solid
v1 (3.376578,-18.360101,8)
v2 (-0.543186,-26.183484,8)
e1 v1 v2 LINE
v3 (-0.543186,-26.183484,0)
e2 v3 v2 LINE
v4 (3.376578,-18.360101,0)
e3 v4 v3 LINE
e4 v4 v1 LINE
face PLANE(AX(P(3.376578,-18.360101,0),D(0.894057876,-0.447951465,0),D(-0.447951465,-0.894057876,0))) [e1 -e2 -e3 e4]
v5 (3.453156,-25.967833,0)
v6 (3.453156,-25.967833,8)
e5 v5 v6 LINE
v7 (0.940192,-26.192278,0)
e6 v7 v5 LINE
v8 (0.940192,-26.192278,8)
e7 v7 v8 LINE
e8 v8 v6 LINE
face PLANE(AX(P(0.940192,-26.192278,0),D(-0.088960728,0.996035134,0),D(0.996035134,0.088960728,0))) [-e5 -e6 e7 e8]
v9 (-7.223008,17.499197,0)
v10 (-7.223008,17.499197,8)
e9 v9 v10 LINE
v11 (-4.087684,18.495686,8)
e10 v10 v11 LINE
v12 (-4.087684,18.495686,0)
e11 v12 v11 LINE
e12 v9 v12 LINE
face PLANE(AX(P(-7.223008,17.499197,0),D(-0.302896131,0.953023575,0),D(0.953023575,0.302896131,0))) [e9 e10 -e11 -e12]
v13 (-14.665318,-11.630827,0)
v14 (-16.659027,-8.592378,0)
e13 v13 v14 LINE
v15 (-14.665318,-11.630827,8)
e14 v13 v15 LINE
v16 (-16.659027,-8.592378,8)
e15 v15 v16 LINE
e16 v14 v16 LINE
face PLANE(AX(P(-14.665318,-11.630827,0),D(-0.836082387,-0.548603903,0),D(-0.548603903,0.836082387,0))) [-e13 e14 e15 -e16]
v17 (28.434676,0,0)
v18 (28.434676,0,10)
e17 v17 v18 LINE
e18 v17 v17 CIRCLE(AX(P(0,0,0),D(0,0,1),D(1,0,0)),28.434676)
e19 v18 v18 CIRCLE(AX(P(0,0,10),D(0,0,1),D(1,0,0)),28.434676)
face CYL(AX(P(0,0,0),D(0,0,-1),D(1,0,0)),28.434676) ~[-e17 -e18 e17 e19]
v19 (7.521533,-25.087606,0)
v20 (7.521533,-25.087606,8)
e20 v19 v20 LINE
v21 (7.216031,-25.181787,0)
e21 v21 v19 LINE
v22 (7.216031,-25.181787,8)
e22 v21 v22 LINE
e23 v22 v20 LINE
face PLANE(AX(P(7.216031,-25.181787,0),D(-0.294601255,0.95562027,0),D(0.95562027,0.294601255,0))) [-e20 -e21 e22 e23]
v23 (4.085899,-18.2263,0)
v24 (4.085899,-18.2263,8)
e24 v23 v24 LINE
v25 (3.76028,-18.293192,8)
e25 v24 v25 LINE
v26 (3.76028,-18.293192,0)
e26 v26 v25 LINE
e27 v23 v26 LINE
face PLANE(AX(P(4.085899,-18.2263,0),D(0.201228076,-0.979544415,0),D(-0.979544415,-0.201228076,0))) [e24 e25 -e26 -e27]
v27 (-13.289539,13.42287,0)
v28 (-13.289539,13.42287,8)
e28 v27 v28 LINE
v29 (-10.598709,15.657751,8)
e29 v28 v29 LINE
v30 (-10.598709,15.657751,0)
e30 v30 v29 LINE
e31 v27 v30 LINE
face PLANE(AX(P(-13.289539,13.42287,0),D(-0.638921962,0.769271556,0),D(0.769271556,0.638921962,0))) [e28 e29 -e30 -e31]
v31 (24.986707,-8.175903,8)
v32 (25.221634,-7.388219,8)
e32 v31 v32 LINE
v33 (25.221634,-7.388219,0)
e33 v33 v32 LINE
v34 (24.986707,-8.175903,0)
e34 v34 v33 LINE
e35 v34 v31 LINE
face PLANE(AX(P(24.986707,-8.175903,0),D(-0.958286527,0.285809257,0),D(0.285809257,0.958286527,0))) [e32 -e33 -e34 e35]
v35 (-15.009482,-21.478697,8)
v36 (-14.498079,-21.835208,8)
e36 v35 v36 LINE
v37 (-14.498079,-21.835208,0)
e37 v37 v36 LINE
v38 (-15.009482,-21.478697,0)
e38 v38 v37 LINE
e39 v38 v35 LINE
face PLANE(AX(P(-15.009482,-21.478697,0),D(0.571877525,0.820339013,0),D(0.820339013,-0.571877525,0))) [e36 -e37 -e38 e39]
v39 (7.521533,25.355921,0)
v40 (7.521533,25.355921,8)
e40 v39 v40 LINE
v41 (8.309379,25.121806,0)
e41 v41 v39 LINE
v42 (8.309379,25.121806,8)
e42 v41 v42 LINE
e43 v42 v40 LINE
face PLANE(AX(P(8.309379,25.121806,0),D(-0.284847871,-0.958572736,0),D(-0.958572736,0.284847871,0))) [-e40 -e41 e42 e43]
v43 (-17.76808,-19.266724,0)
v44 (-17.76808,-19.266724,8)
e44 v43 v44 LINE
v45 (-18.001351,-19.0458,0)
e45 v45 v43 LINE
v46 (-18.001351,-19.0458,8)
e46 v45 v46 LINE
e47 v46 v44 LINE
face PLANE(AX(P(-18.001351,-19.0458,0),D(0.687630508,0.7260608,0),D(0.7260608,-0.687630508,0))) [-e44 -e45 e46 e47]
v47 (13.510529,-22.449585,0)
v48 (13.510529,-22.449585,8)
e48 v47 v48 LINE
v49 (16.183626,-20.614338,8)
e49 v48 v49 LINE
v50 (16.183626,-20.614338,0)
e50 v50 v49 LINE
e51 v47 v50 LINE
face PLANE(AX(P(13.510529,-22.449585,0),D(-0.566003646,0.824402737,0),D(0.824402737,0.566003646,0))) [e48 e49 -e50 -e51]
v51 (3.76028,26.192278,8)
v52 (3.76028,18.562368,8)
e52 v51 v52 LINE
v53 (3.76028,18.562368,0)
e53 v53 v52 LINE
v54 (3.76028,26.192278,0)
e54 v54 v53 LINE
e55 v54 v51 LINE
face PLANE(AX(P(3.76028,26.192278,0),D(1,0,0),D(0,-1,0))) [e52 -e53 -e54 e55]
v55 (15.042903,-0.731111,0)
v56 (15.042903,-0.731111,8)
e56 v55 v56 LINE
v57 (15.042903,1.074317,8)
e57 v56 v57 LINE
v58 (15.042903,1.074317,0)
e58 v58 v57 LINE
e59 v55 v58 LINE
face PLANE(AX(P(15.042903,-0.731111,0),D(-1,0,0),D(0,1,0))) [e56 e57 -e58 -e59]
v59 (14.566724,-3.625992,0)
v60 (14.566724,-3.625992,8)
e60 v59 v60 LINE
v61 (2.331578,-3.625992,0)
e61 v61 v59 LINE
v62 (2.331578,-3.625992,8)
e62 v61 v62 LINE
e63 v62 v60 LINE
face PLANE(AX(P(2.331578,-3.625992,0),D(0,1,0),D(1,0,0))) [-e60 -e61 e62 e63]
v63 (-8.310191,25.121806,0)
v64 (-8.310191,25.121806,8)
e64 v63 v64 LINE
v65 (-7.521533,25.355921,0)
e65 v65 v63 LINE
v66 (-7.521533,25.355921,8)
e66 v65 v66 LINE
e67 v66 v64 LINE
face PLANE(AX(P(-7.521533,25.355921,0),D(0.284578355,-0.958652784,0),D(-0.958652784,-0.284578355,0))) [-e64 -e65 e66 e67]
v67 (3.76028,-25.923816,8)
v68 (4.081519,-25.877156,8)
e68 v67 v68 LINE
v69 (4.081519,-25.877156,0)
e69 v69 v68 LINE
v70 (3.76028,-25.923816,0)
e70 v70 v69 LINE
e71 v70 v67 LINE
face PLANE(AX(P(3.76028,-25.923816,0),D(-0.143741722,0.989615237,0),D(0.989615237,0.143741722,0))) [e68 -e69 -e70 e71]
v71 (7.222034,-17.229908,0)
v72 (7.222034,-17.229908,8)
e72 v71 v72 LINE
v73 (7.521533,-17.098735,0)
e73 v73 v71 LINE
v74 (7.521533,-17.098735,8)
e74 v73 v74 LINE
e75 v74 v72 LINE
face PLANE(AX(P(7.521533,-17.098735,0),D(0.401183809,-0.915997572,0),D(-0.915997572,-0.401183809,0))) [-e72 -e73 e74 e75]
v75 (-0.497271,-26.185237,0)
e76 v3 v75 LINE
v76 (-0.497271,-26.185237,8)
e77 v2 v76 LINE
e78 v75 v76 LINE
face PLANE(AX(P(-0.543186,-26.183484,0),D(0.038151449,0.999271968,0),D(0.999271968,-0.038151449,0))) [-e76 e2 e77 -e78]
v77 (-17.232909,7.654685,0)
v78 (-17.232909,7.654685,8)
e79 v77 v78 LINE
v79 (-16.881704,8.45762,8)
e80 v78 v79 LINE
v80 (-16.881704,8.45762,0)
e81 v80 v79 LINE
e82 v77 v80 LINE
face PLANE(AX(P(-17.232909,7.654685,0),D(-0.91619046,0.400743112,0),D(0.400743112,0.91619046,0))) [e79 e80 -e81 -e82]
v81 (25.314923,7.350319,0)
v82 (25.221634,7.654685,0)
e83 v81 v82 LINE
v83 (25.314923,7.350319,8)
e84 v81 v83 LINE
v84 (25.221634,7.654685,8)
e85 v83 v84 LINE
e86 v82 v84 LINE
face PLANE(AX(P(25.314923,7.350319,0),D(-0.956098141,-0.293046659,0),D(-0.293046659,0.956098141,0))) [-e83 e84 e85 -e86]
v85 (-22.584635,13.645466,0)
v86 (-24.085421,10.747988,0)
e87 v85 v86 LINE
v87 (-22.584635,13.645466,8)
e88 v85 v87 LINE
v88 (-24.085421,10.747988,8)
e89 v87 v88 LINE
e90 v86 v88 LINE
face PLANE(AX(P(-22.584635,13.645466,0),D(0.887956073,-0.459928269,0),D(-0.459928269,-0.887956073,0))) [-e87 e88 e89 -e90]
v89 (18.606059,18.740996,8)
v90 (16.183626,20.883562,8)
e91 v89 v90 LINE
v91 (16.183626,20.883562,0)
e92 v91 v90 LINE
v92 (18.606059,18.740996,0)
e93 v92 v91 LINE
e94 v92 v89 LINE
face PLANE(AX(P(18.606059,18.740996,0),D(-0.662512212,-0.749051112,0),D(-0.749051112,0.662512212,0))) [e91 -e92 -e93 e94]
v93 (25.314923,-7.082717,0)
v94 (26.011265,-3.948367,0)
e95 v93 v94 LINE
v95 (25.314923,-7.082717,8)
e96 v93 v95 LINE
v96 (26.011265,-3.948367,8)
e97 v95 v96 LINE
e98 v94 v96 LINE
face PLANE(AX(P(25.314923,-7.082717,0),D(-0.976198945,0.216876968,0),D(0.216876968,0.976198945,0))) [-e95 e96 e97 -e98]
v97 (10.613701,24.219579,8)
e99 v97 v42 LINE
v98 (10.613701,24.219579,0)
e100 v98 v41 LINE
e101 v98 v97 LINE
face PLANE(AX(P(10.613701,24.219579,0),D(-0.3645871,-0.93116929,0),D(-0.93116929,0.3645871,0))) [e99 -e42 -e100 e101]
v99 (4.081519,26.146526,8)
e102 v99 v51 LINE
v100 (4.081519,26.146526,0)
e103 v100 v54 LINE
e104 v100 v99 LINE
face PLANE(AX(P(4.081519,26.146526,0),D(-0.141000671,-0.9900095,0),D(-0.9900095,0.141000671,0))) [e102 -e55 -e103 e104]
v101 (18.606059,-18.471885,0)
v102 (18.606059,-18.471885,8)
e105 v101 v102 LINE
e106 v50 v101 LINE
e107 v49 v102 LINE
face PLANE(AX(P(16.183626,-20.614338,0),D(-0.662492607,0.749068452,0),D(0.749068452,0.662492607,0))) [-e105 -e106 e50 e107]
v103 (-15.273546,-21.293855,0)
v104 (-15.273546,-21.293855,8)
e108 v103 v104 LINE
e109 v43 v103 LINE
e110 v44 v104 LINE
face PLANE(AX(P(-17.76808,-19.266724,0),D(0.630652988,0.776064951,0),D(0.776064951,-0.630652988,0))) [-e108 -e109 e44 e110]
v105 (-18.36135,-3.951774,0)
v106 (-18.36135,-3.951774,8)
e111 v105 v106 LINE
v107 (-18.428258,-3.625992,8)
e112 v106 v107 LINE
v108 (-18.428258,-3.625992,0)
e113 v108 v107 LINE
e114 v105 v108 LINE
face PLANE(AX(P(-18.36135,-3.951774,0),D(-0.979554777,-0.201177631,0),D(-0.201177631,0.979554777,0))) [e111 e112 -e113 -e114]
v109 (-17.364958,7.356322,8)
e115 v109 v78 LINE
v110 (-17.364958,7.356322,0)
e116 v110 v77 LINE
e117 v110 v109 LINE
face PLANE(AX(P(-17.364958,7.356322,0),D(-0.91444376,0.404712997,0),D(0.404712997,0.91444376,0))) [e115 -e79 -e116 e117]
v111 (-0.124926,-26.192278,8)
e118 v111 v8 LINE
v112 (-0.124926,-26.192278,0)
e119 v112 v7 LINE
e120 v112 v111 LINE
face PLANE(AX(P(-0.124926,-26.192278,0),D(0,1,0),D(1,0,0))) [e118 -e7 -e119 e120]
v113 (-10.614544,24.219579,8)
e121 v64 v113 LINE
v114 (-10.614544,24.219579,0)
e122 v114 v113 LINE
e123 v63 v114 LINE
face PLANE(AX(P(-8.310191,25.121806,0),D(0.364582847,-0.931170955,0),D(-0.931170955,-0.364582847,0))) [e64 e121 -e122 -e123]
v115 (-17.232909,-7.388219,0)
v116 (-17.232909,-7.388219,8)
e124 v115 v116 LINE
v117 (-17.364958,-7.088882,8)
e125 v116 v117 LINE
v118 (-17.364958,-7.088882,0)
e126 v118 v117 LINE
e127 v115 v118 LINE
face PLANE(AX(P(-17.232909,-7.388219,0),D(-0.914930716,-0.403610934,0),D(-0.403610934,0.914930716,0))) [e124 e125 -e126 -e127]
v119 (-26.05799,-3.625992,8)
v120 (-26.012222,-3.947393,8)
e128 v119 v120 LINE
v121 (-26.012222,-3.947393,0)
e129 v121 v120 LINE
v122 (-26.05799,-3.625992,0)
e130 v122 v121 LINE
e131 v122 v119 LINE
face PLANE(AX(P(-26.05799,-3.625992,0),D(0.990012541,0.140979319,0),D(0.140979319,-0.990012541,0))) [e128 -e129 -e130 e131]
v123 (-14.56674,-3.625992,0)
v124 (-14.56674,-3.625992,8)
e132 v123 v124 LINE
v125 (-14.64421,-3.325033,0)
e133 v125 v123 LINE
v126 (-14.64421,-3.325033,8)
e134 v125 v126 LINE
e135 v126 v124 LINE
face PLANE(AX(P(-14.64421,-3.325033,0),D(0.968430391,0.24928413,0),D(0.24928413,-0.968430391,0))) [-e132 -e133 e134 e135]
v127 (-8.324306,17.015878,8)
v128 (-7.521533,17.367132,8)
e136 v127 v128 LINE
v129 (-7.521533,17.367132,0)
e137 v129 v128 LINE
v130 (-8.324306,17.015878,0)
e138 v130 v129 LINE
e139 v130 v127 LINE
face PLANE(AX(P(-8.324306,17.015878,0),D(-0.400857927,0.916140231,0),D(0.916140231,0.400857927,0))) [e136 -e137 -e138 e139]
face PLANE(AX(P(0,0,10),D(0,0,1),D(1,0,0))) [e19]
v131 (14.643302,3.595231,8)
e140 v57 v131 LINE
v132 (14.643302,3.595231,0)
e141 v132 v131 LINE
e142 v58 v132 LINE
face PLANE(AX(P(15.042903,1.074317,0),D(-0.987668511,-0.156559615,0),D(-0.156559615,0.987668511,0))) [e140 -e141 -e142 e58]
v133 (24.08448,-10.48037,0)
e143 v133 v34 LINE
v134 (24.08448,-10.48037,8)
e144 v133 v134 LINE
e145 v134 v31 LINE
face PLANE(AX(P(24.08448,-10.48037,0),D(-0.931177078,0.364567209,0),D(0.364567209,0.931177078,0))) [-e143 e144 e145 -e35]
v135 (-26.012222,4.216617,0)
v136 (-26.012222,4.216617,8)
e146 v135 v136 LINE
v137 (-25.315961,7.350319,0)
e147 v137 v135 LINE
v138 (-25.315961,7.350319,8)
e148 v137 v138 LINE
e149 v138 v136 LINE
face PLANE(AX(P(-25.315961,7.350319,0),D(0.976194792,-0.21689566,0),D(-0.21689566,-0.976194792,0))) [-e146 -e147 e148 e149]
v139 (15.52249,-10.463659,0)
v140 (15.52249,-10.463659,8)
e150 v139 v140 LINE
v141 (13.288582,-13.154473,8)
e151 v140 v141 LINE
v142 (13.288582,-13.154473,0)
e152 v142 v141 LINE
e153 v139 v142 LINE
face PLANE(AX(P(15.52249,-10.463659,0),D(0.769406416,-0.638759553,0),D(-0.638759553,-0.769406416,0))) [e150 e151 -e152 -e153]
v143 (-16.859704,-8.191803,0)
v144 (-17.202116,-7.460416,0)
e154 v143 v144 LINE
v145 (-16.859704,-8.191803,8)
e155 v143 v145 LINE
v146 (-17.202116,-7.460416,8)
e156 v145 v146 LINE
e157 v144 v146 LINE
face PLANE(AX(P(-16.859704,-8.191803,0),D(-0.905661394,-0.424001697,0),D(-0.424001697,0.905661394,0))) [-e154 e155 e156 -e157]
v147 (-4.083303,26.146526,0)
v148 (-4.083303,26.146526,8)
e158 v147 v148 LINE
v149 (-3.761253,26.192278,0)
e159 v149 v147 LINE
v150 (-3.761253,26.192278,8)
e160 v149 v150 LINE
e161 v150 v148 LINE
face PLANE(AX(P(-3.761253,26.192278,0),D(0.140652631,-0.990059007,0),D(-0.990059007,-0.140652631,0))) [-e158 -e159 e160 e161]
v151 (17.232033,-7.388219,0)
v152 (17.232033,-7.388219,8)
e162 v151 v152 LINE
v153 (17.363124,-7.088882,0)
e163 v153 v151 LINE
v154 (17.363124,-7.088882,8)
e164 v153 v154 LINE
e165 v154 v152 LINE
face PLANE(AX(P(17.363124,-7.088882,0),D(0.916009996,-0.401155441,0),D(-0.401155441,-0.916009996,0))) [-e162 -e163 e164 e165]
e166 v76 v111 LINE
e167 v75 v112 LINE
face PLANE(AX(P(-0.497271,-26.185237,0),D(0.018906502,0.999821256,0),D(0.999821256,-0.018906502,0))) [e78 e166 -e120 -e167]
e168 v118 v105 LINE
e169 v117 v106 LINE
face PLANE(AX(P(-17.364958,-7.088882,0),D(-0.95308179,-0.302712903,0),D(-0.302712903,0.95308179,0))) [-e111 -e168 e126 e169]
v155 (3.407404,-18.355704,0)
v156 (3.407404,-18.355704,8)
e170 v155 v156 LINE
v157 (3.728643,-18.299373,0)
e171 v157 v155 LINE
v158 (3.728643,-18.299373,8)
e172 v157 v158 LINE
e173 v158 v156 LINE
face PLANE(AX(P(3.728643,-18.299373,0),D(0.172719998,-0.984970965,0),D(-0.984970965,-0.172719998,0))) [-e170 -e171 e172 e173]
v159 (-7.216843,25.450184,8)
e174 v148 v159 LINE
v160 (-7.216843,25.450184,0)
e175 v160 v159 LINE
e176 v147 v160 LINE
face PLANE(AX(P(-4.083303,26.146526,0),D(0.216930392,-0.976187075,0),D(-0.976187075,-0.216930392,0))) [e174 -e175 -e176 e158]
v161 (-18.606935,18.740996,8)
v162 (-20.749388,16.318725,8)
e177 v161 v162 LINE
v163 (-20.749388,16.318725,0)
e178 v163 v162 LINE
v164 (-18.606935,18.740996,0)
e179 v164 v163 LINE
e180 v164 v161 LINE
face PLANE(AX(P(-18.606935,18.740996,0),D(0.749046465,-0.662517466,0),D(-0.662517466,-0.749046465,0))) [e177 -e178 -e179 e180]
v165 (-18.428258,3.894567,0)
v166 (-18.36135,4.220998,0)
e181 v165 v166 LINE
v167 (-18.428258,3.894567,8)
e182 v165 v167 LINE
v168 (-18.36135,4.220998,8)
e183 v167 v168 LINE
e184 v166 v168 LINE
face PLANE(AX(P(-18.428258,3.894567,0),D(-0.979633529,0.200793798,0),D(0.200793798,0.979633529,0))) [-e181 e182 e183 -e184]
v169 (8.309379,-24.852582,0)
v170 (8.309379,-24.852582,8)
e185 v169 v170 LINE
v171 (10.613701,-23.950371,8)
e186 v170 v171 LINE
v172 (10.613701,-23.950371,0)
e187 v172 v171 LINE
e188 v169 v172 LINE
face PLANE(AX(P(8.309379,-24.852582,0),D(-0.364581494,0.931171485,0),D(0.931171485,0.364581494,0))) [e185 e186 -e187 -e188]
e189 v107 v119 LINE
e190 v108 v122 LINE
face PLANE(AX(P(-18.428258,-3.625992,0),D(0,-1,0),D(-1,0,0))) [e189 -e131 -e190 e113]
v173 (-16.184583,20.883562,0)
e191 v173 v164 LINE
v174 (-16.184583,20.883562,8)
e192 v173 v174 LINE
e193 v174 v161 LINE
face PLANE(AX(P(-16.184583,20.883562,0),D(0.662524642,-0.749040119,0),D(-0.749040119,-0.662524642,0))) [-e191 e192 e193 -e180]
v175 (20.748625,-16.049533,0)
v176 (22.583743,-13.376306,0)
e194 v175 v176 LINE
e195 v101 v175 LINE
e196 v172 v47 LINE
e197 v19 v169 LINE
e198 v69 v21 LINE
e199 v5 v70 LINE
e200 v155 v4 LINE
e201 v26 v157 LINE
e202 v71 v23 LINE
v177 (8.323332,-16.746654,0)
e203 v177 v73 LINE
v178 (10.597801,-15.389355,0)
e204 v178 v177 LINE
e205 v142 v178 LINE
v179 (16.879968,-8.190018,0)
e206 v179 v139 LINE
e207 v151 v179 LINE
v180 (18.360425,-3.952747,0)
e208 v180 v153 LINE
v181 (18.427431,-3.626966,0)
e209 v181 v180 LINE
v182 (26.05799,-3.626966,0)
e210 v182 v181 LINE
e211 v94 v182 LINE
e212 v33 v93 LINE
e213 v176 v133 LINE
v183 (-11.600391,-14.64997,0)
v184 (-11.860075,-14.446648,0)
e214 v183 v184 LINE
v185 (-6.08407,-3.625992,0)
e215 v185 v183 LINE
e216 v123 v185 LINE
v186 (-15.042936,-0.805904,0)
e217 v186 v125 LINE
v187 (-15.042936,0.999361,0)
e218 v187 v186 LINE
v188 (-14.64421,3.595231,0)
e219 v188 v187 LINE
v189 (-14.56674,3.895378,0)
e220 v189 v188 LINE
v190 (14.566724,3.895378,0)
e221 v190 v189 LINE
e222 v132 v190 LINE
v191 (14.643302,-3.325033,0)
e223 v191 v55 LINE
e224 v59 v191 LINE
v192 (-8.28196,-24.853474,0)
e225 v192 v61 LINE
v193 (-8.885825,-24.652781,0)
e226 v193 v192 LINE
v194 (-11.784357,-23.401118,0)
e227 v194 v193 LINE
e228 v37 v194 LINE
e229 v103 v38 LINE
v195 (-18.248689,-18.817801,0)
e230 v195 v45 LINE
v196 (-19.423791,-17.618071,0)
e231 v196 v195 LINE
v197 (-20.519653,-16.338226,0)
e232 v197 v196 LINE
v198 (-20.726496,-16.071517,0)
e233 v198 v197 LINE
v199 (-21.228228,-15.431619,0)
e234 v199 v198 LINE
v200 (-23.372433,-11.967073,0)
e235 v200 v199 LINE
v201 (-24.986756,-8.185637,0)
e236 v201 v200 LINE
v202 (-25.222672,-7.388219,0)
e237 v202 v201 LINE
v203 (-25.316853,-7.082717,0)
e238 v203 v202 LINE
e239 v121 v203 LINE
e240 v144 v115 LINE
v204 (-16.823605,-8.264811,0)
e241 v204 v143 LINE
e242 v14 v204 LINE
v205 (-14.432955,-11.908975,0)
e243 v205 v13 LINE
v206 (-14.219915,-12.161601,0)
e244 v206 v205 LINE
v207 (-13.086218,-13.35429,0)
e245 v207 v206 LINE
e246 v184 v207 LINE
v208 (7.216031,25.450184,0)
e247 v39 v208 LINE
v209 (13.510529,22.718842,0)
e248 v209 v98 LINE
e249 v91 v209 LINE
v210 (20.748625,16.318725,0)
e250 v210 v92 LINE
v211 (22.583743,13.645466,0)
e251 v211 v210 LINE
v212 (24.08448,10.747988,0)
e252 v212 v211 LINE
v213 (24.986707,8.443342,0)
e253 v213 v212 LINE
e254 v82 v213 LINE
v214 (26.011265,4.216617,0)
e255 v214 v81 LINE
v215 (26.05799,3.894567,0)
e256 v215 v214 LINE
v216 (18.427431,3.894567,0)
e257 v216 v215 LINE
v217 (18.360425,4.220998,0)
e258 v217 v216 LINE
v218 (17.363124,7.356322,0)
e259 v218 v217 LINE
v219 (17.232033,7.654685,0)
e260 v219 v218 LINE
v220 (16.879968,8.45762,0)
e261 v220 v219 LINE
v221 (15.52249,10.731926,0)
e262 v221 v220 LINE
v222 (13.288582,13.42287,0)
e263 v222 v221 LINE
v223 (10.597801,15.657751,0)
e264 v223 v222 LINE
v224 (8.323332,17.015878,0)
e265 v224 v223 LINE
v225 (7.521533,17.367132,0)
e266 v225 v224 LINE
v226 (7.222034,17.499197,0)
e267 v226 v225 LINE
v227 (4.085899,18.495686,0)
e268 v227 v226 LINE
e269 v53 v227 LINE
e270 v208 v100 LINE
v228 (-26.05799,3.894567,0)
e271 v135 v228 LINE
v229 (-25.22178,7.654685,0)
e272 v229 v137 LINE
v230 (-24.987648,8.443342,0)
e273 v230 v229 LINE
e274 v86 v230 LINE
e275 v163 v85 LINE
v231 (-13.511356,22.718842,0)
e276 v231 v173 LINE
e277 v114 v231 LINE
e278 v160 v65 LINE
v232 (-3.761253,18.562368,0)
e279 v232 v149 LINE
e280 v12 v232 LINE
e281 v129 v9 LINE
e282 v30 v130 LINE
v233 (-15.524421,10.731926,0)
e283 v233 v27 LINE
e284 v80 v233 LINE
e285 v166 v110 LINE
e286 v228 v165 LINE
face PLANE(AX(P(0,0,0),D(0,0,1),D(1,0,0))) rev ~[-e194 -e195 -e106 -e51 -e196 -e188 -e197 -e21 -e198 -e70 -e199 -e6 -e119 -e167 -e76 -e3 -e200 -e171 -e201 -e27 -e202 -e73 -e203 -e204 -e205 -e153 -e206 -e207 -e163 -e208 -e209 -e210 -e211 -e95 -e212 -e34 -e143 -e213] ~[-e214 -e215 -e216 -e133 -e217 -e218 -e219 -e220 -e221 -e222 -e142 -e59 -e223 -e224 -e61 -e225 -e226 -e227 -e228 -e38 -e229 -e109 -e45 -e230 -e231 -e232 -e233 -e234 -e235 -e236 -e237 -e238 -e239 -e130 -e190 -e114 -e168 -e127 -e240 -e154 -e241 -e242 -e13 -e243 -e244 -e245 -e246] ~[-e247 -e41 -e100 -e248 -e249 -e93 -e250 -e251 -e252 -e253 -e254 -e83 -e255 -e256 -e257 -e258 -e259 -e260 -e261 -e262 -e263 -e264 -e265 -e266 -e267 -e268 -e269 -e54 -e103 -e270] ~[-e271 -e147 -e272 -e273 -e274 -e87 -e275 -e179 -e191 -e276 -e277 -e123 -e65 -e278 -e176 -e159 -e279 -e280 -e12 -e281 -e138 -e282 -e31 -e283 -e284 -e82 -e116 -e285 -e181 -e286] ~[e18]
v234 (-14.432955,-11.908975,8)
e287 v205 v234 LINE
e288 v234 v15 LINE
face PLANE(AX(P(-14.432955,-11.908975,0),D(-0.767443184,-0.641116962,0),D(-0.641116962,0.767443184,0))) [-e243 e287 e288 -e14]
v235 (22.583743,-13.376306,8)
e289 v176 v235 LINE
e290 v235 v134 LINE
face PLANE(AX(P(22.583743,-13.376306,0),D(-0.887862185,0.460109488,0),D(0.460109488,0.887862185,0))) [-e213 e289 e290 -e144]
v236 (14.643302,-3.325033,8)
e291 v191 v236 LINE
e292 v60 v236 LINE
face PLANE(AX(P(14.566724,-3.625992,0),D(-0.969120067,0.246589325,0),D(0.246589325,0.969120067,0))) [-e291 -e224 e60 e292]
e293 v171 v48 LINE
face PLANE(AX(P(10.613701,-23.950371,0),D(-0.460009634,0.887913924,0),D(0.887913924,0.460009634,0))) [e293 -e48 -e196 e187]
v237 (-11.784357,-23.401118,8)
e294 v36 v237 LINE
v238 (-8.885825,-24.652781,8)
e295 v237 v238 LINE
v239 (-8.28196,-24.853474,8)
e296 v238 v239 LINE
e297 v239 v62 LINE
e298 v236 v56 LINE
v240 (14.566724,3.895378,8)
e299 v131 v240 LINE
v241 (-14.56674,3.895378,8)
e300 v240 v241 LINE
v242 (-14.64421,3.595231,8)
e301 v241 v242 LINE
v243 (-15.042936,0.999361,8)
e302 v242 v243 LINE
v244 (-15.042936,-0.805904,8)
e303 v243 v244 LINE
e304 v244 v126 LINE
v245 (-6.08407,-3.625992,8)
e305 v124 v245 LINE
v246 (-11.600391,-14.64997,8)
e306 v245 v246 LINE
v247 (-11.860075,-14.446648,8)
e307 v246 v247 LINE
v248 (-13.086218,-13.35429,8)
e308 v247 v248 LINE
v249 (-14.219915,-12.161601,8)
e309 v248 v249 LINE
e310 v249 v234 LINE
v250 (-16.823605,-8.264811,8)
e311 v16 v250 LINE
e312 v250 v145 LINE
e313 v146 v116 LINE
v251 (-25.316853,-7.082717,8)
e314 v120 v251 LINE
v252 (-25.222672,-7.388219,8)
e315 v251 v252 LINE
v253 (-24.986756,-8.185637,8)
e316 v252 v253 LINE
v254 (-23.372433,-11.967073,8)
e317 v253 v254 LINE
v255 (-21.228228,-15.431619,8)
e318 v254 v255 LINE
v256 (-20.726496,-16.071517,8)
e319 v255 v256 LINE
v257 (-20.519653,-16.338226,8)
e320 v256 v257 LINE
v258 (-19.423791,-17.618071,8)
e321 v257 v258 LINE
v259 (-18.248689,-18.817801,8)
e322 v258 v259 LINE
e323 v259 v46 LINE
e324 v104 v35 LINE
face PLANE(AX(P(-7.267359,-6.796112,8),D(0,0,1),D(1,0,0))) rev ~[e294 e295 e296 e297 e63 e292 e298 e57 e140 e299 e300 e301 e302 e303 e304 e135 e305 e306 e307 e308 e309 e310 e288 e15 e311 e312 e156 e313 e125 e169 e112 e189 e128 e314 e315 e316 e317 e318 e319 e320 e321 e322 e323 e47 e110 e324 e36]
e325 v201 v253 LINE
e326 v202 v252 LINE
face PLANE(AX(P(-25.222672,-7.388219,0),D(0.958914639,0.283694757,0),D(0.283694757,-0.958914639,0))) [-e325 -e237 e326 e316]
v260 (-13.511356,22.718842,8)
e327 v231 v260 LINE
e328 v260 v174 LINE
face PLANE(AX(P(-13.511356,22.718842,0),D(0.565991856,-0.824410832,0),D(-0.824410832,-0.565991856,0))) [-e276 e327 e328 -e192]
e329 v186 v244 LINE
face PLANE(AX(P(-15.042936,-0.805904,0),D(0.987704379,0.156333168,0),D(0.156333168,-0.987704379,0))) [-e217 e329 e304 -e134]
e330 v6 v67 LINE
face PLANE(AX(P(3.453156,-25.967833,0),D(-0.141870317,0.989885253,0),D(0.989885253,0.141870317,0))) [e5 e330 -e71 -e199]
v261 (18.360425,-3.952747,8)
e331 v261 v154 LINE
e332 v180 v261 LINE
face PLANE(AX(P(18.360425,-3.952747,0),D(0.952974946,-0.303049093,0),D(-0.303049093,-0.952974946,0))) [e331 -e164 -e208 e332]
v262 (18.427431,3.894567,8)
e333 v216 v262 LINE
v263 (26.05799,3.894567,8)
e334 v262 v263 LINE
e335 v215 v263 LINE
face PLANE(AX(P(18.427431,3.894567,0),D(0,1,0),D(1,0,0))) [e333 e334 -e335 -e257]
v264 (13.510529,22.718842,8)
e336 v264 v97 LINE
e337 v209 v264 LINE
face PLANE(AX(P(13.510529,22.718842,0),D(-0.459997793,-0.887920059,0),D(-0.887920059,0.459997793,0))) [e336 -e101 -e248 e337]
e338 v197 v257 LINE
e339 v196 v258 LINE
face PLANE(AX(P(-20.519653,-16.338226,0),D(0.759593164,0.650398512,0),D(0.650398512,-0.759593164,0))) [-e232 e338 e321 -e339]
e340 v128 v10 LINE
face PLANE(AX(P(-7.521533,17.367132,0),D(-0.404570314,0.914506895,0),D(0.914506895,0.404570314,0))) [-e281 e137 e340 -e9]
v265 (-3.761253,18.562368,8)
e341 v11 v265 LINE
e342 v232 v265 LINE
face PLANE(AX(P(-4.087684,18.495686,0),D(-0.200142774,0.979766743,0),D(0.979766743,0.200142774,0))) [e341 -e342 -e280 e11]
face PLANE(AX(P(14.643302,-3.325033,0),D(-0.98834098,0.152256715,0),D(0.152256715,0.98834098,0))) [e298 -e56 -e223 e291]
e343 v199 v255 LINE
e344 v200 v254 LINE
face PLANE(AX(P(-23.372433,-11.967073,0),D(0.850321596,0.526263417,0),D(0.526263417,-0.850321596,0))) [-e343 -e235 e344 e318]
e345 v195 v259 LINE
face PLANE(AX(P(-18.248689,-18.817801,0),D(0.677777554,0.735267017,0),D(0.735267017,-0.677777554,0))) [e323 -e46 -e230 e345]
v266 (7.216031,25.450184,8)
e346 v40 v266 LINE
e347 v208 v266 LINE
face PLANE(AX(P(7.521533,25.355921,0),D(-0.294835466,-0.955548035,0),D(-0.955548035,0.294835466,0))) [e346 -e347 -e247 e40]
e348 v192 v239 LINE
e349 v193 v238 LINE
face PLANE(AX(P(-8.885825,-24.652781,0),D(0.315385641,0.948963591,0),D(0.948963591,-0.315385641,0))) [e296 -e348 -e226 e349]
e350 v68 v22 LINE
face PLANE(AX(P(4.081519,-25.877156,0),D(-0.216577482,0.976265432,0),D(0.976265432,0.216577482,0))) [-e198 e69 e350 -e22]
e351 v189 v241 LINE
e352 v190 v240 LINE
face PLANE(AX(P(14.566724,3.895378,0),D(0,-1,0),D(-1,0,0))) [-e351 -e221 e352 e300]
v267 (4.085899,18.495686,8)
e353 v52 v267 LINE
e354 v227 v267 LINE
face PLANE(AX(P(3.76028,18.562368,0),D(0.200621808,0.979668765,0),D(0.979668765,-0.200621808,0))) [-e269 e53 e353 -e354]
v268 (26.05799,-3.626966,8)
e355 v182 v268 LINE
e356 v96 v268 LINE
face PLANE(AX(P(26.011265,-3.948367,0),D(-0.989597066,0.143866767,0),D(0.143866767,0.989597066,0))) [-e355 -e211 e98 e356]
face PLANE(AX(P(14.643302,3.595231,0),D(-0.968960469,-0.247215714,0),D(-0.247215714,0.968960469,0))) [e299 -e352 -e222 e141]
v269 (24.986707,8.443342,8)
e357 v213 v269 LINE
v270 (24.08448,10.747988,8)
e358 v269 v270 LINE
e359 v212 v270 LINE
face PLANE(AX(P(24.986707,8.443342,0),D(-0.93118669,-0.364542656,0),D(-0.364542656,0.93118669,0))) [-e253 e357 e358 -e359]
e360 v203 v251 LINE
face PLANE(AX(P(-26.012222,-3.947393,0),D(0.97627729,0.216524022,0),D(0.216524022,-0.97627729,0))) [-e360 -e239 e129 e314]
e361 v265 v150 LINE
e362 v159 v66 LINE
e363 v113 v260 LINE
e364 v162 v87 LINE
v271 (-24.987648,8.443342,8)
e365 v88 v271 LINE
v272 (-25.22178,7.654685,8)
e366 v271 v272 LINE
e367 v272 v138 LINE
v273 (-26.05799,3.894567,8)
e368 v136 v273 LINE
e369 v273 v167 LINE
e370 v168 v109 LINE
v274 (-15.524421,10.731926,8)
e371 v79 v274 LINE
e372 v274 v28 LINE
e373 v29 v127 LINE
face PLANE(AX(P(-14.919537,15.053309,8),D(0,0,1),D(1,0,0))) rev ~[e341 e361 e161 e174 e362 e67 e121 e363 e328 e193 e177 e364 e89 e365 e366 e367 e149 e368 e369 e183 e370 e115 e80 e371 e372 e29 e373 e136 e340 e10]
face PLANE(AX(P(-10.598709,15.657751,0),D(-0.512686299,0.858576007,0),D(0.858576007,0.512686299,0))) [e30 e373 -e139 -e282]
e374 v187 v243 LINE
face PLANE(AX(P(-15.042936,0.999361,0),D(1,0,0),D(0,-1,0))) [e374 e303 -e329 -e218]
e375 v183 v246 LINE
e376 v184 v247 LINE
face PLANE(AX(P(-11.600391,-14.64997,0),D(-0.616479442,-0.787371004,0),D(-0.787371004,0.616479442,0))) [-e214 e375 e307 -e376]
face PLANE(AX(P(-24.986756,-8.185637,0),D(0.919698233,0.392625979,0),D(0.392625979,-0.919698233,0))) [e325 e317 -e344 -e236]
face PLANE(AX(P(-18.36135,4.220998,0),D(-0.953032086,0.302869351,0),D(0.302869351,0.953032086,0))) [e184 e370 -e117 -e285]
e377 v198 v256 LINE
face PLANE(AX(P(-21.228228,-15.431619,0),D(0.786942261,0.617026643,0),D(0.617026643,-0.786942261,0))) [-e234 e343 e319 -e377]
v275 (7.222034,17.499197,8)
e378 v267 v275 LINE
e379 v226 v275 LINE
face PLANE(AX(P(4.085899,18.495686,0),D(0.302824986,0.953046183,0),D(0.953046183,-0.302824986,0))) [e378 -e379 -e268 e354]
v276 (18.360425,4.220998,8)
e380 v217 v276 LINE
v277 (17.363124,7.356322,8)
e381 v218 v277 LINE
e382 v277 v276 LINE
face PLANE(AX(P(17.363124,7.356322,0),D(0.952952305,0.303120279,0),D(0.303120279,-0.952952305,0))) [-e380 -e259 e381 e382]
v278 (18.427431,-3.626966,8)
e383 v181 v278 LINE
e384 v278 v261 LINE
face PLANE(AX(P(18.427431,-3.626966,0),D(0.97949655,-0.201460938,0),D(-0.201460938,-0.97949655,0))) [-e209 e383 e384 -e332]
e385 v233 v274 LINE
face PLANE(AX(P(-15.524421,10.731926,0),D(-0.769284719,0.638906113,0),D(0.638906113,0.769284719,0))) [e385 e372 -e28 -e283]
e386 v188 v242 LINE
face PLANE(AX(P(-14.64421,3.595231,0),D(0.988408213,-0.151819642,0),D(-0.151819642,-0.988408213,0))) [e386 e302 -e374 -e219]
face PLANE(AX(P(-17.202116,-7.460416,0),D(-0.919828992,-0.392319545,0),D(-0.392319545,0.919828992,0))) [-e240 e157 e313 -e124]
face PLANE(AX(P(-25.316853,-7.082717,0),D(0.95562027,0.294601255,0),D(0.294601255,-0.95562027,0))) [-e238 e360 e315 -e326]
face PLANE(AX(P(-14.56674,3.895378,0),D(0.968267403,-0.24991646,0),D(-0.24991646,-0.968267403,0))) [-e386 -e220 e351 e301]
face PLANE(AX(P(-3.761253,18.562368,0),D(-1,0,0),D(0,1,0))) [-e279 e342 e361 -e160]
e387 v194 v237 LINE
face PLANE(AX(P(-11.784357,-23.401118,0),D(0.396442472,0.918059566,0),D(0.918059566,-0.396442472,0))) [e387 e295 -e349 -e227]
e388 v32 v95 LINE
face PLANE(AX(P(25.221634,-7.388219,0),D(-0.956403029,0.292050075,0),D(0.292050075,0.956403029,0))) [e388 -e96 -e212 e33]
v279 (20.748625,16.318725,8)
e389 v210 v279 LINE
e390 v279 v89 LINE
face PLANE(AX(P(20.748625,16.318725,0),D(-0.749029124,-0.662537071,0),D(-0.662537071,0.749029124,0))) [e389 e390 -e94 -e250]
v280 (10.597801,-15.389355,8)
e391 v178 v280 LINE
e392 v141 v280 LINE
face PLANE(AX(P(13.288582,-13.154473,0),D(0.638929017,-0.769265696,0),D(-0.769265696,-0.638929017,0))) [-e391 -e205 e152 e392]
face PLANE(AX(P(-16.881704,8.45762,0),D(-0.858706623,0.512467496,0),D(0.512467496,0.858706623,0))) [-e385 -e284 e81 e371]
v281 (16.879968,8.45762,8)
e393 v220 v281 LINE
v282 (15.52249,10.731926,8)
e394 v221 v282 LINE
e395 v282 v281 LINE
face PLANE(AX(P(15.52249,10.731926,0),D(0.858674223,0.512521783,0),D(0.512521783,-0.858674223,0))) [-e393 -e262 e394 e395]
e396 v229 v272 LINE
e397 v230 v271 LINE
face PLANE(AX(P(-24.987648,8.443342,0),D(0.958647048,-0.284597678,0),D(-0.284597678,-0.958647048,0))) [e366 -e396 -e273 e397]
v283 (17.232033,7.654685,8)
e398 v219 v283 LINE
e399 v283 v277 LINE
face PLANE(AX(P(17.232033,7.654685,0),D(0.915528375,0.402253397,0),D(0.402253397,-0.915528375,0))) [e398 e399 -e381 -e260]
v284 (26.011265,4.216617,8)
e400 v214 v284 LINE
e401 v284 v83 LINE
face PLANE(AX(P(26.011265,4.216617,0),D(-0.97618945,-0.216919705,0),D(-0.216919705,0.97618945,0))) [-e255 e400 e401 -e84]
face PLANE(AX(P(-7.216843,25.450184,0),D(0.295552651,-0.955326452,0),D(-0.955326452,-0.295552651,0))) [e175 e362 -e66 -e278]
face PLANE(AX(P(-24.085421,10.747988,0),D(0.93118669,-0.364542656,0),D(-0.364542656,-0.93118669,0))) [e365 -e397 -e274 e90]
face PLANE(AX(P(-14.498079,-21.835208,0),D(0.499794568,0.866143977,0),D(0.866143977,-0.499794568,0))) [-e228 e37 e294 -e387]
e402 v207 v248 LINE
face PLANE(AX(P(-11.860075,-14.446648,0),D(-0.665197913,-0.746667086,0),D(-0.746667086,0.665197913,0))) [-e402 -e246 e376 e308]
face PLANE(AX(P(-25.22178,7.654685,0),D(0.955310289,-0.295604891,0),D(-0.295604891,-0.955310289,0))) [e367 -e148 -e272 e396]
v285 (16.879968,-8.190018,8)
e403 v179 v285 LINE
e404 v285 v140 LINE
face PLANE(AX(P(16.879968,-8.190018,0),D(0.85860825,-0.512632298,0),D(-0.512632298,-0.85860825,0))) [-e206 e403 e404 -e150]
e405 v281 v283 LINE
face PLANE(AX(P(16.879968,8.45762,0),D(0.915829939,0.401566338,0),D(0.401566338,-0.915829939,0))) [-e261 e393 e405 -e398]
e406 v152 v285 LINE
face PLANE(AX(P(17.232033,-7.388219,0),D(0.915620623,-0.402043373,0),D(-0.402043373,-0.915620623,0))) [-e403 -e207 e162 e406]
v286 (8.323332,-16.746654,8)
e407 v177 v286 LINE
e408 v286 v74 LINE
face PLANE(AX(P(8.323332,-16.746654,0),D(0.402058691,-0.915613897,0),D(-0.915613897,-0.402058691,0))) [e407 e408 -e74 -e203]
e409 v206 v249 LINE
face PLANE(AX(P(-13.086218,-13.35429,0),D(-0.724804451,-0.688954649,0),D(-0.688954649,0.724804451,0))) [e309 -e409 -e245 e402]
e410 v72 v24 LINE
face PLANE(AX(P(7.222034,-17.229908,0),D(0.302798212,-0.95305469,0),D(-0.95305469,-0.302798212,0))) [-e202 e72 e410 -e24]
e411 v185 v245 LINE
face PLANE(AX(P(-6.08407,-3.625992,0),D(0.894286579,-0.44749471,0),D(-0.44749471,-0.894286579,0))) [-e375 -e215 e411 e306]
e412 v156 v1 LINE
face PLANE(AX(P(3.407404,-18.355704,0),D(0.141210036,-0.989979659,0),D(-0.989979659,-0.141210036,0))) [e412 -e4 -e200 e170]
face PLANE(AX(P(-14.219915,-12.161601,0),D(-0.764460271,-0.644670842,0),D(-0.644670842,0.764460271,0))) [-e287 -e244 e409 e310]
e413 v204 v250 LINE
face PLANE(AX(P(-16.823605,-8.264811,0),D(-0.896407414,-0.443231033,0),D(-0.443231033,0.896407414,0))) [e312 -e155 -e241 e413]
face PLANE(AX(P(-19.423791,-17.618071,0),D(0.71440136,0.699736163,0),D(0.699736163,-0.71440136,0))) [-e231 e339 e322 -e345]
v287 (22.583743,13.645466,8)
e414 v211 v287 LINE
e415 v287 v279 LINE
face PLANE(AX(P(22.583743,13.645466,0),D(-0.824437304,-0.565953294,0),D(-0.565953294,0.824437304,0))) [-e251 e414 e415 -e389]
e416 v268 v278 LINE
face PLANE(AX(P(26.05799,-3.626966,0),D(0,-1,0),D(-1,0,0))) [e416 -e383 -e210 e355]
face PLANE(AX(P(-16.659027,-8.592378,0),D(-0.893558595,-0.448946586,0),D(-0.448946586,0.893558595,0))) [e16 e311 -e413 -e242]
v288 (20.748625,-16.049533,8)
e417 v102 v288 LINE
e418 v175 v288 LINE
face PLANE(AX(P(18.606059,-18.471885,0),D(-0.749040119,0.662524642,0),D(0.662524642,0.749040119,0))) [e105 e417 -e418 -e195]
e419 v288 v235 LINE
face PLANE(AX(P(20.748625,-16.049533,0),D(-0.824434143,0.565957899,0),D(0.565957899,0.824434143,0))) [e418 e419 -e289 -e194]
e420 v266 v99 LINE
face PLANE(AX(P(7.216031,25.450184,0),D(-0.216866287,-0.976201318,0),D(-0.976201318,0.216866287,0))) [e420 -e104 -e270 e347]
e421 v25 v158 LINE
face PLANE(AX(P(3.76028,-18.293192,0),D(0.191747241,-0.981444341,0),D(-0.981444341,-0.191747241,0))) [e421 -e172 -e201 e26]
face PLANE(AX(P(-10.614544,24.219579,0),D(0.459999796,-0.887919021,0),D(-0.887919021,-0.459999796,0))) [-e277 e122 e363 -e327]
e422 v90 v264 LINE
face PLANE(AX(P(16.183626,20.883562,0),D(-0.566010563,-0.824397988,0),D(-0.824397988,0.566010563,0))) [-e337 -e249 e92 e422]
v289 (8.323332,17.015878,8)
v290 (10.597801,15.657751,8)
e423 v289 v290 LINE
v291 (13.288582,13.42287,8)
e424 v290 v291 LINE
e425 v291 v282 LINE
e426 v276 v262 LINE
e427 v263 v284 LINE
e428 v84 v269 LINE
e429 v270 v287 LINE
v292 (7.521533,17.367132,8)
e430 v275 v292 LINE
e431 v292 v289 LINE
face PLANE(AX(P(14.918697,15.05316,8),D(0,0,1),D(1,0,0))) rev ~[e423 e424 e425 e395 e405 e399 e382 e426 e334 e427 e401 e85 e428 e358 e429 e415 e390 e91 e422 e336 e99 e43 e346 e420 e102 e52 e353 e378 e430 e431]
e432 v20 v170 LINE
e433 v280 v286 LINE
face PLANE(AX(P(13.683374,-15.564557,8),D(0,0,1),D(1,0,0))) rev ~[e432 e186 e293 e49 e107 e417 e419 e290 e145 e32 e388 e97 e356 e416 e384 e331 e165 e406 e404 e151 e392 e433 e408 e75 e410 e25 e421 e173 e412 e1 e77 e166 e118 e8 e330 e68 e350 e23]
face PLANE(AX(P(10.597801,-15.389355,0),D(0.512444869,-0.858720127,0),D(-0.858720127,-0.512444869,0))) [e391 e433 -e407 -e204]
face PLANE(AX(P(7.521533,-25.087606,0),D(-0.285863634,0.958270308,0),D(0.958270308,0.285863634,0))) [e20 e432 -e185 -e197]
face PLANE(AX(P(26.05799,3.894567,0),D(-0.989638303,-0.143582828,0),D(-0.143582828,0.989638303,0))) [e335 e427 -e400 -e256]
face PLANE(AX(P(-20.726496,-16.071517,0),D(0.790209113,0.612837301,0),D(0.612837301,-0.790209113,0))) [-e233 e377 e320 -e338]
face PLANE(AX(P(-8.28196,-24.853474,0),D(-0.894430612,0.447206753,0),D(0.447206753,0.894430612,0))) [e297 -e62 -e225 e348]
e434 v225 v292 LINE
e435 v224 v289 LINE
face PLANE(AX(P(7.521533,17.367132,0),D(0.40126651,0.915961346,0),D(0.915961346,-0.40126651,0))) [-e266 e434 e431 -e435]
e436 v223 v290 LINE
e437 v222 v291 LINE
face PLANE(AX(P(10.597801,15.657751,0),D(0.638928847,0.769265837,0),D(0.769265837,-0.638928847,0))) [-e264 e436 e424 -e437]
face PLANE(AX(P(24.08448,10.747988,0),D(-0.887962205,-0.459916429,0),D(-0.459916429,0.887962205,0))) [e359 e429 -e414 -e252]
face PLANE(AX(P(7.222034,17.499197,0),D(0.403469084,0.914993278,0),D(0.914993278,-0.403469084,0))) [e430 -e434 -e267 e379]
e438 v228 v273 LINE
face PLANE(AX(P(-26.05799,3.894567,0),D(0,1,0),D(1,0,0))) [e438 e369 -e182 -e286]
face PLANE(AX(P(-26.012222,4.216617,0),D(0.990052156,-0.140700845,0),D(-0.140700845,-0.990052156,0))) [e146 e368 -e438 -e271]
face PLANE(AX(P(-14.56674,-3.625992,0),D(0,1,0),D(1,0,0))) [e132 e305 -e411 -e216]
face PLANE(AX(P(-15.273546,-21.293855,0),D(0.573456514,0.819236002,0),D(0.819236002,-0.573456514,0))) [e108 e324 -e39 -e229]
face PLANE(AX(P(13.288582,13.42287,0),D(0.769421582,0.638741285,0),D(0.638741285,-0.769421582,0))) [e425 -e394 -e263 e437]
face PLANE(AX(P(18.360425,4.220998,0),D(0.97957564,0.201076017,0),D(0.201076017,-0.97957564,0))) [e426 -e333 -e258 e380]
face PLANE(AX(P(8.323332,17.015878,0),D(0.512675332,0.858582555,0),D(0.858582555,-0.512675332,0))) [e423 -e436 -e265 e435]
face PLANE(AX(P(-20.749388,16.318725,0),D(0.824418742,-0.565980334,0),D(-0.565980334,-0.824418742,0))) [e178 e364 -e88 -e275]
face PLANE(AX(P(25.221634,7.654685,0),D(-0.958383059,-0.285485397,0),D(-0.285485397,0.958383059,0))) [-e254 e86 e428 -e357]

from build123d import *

# Parameters (mm, degrees)
F1_R     = 28.434676
F2_DEPTH = 10
F3_DEPTH = 8


with BuildPart() as f2:
    # F1 (on Top) → F2 (new body)
    with BuildSketch(Plane.XY):
        Circle(F1_R)
    extrude(amount=F2_DEPTH)

    # F0 (on Top) → F3 (cut)
    with BuildSketch(Plane.XY):
        Polygon((-17.364958, 7.356322), (-17.232909, 7.654685), (-16.881704, 8.45762), (-15.524421, 10.731926), (-13.289539, 13.42287), (-10.598709, 15.657751), (-8.324306, 17.015878), (-7.521533, 17.367132), (-7.223008, 17.499197), (-4.087684, 18.495686), (-3.761253, 18.562368), (-3.761253, 26.192278), (-4.083303, 26.146526), (-7.216843, 25.450184), (-7.521533, 25.355921), (-8.310191, 25.121806), (-10.614544, 24.219579), (-13.511356, 22.718842), (-16.184583, 20.883562), (-18.606935, 18.740996), (-20.749388, 16.318725), (-22.584635, 13.645466), (-24.085421, 10.747988), (-24.987648, 8.443342), (-25.22178, 7.654685), (-25.315961, 7.350319), (-26.012222, 4.216617), (-26.05799, 3.894567), (-18.428258, 3.894567), (-18.36135, 4.220998), align=None)
        Polygon((16.879968, 8.45762), (17.232033, 7.654685), (17.363124, 7.356322), (18.360425, 4.220998), (18.427431, 3.894567), (26.05799, 3.894567), (26.011265, 4.216617), (25.314923, 7.350319), (25.221634, 7.654685), (24.986707, 8.443342), (24.08448, 10.747988), (22.583743, 13.645466), (20.748625, 16.318725), (18.606059, 18.740996), (16.183626, 20.883562), (13.510529, 22.718842), (10.613701, 24.219579), (8.309379, 25.121806), (7.521533, 25.355921), (7.216031, 25.450184), (4.081519, 26.146526), (3.76028, 26.192278), (3.76028, 18.562368), (4.085899, 18.495686), (7.222034, 17.499197), (7.521533, 17.367132), (8.323332, 17.015878), (10.597801, 15.657751), (13.288582, 13.42287), (15.52249, 10.731926), align=None)
        Polygon((-8.28196, -24.853474), (2.331578, -3.625992), (14.566724, -3.625992), (14.643302, -3.325033), (15.042903, -0.731111), (15.042903, 0.133314), (15.042903, 1.074317), (14.643302, 3.595231), (14.566724, 3.895378), (-14.56674, 3.895378), (-14.64421, 3.595231), (-15.042936, 0.999361), (-15.042936, 0.133314), (-15.042936, -0.805904), (-14.64421, -3.325033), (-14.56674, -3.625992), (-6.08407, -3.625992), (-11.600391, -14.64997), (-11.860075, -14.446648), (-13.086218, -13.35429), (-14.219915, -12.161601), (-14.432955, -11.908975), (-14.665318, -11.630827), (-16.659027, -8.592378), (-16.823605, -8.264811), (-16.859704, -8.191803), (-17.202116, -7.460416), (-17.232909, -7.388219), (-17.364958, -7.088882), (-18.36135, -3.951774), (-18.428258, -3.625992), (-26.05799, -3.625992), (-26.012222, -3.947393), (-25.316853, -7.082717), (-25.222672, -7.388219), (-24.986756, -8.185637), (-23.372433, -11.967073), (-21.228228, -15.431619), (-20.726496, -16.071517), (-20.519653, -16.338226), (-19.423791, -17.618071), (-18.248689, -18.817801), (-18.001351, -19.0458), (-17.76808, -19.266724), (-15.273546, -21.293855), (-15.009482, -21.478697), (-14.498079, -21.835208), (-11.784357, -23.401118), (-8.885825, -24.652781), align=None)
        Polygon((17.363124, -7.088882), (17.232033, -7.388219), (16.879968, -8.190018), (15.52249, -10.463659), (13.288582, -13.154473), (10.597801, -15.389355), (8.323332, -16.746654), (7.521533, -17.098735), (7.222034, -17.229908), (4.085899, -18.2263), (3.76028, -18.293192), (3.728643, -18.299373), (3.407404, -18.355704), (3.376578, -18.360101), (-0.543186, -26.183484), (-0.497271, -26.185237), (-0.124926, -26.192278), (0, -26.192278), (0.940192, -26.192278), (3.453156, -25.967833), (3.76028, -25.923816), (4.081519, -25.877156), (7.216031, -25.181787), (7.521533, -25.087606), (8.309379, -24.852582), (10.613701, -23.950371), (13.510529, -22.449585), (16.183626, -20.614338), (18.606059, -18.471885), (20.748625, -16.049533), (22.583743, -13.376306), (24.08448, -10.48037), (24.986707, -8.175903), (25.221634, -7.388219), (25.314923, -7.082717), (26.011265, -3.948367), (26.05799, -3.626966), (18.427431, -3.626966), (18.360425, -3.952747), align=None)
    extrude(amount=F3_DEPTH, mode=Mode.SUBTRACT)


solid = f2.part
